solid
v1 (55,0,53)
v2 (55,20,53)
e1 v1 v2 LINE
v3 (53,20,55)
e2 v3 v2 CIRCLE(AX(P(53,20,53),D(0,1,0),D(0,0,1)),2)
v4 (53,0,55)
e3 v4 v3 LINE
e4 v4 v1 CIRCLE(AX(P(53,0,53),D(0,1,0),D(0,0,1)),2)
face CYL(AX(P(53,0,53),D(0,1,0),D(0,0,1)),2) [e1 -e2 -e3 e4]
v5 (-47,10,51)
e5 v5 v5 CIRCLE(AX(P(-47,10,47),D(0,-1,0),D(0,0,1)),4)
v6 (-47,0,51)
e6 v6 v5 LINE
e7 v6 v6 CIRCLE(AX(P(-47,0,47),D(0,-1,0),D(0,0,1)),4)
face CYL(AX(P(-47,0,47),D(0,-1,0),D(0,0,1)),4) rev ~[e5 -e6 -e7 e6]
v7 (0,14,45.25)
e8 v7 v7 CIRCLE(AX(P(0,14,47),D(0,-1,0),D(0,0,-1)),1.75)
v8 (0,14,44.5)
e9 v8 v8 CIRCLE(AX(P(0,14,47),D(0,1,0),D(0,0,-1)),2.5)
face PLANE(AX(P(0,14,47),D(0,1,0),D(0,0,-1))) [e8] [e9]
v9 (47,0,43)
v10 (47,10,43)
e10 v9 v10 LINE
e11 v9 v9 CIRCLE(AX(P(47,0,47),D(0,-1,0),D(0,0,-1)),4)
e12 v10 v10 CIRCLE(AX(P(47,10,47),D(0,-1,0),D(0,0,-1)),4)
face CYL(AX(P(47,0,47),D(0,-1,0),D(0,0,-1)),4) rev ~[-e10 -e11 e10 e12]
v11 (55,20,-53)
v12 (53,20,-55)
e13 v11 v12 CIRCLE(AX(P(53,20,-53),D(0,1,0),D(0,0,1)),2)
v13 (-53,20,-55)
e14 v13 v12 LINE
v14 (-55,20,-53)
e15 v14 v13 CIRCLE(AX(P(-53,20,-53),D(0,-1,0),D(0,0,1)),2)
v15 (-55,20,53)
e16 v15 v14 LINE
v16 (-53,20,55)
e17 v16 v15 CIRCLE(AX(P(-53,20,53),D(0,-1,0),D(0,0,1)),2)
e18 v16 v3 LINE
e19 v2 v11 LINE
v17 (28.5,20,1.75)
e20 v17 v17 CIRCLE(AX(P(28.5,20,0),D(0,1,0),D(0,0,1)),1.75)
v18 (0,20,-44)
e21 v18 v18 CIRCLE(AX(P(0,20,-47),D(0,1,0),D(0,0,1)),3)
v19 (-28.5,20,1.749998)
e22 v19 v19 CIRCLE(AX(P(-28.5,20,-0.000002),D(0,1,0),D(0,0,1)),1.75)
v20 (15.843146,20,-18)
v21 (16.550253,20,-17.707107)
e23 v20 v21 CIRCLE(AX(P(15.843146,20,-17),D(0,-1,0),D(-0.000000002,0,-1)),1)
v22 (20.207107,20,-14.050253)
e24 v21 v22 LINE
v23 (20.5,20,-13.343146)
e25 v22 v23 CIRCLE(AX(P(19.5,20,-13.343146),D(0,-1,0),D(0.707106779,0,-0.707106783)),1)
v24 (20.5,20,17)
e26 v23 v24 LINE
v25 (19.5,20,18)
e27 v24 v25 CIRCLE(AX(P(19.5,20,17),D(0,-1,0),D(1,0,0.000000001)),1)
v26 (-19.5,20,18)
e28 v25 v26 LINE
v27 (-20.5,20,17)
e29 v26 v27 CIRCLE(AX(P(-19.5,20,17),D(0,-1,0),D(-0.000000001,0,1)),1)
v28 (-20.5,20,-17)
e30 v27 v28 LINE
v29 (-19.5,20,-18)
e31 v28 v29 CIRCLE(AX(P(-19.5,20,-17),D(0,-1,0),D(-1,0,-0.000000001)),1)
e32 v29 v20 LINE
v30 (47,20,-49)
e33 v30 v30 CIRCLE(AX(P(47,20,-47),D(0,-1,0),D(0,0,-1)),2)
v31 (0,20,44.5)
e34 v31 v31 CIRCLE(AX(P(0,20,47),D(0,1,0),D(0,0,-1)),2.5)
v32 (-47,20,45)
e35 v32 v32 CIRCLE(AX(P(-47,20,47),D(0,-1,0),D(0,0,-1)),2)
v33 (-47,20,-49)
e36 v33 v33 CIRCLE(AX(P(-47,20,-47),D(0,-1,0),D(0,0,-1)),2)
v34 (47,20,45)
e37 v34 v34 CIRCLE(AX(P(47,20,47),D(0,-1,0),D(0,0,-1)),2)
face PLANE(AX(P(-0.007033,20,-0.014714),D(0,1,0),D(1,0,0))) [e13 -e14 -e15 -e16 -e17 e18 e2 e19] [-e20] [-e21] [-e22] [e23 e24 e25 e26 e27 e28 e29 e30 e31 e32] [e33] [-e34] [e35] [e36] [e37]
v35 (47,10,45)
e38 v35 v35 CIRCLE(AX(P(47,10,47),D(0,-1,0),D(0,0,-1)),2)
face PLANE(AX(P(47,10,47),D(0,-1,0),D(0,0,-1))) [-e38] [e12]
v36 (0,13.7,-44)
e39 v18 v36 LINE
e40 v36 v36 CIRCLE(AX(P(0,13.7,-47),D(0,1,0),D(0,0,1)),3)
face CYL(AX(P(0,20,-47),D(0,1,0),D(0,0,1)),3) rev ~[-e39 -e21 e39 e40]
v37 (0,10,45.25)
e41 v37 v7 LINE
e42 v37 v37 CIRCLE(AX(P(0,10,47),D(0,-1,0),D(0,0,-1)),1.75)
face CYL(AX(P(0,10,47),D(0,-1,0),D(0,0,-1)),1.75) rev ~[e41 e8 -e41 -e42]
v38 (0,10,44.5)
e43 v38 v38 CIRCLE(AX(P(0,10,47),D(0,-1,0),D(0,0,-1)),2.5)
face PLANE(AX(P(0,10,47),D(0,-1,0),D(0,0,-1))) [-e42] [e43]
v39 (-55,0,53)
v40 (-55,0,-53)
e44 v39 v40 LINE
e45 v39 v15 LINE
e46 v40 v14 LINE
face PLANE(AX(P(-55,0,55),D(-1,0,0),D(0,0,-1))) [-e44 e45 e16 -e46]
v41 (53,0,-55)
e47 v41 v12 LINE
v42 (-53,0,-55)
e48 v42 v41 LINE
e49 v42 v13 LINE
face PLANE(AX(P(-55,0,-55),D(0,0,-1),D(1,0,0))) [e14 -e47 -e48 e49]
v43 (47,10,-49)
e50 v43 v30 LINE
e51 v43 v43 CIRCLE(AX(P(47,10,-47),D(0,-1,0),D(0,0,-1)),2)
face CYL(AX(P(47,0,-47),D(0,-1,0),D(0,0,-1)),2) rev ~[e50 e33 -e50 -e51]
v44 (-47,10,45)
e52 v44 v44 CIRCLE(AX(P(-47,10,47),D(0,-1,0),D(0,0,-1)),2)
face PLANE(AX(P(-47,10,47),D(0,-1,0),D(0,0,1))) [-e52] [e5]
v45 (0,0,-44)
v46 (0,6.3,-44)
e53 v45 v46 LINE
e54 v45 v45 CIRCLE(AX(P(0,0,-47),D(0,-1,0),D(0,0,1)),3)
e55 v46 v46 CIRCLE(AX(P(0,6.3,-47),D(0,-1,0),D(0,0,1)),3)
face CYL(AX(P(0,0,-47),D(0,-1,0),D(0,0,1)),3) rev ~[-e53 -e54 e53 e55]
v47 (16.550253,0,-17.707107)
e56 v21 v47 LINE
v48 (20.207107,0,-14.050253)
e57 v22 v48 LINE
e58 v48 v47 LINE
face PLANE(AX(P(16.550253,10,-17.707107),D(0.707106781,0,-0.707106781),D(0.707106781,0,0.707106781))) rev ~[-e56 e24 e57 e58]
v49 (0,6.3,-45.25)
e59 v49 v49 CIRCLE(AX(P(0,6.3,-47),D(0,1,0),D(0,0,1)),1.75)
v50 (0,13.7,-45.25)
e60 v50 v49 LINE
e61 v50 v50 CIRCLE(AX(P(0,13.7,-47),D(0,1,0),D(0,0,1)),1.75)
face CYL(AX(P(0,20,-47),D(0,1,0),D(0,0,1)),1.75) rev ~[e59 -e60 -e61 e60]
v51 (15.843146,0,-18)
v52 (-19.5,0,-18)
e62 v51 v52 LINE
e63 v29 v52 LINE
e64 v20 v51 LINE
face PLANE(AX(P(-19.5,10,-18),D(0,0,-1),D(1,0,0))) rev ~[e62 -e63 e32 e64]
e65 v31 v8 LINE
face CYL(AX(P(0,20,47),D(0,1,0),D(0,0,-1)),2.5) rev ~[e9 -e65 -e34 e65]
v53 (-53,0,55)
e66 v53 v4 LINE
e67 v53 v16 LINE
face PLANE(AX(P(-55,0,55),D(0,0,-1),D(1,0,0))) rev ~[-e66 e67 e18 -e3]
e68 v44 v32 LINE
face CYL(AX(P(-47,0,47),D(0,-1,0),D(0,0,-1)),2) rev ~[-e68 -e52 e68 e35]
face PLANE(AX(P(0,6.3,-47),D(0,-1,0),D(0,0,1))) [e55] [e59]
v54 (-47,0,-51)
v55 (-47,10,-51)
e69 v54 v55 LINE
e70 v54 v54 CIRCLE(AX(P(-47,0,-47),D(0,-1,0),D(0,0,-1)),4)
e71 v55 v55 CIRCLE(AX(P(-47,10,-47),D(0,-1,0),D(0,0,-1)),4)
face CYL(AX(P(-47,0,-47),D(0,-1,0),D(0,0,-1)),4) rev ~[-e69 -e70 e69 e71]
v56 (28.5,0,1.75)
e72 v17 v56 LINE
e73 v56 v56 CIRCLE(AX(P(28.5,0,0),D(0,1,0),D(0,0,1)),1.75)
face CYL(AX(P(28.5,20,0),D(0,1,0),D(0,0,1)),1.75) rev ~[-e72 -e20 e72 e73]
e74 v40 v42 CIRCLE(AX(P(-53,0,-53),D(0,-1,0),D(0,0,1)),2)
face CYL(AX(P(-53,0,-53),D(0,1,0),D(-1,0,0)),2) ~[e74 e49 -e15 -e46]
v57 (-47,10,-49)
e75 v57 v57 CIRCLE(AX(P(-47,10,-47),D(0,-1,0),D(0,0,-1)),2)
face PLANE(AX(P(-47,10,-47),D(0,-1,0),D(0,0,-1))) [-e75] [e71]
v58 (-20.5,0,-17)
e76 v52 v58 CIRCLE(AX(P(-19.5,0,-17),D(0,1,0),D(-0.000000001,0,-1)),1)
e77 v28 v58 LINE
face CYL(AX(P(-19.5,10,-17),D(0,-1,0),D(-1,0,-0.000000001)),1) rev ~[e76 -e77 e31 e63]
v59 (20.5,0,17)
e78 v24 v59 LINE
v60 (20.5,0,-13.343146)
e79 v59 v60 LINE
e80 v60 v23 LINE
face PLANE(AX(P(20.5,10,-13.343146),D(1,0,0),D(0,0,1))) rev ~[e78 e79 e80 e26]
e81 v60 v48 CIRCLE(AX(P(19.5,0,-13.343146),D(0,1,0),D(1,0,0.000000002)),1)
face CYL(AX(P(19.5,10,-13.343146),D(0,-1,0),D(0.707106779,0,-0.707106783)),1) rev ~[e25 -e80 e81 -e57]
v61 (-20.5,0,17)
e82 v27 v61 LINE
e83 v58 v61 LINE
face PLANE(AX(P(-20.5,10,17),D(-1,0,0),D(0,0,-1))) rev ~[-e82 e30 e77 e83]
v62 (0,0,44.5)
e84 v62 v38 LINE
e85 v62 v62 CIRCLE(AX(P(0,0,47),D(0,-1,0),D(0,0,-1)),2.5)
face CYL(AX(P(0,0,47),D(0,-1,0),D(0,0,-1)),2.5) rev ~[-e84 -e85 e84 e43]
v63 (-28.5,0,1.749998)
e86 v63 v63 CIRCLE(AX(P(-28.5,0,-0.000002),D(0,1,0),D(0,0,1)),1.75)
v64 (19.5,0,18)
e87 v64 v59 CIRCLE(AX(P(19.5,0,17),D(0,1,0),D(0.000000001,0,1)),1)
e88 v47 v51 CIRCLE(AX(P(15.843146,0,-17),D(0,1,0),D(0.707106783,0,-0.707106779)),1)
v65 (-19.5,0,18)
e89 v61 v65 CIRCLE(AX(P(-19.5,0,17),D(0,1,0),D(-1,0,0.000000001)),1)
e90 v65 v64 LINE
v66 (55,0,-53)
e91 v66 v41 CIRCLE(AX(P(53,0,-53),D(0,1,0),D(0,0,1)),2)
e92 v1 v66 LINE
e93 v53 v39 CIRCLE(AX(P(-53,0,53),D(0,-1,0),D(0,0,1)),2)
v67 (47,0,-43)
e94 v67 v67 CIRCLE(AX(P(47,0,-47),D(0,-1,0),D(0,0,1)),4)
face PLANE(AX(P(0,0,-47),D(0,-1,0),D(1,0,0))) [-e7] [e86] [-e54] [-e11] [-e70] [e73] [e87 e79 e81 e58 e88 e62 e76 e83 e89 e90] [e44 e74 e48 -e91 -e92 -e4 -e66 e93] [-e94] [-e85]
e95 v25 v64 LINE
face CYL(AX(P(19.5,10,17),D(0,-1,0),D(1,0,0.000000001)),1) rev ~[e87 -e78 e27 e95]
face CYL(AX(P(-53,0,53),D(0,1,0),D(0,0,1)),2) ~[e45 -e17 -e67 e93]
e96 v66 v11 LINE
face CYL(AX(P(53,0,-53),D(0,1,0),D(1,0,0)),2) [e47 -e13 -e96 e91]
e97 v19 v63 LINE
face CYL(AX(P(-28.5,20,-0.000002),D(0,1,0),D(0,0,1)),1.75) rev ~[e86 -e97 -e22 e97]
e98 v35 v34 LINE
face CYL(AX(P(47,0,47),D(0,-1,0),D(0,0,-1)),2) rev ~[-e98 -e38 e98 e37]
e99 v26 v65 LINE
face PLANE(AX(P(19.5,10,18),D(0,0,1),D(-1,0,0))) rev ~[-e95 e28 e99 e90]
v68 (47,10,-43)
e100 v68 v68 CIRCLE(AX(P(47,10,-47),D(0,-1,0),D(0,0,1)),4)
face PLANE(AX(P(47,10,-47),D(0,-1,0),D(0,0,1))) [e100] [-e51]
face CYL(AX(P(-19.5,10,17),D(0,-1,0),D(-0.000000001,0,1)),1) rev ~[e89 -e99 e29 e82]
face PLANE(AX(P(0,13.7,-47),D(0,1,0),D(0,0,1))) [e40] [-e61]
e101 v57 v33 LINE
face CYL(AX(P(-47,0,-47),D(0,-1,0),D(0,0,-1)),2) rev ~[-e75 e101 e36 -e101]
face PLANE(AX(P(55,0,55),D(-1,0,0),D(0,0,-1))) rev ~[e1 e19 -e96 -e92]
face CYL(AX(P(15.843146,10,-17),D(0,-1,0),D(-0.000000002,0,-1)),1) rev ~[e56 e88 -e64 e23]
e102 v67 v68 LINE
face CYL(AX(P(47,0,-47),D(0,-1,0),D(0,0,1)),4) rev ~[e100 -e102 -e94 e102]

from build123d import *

# Parameters (mm, degrees)
CROQUIS1_W              = 110
CROQUIS1_H              = 110
SALIENTE_EXTRUIR1_DEPTH = 20
REDONDEO1_R             = 2
REDONDEO2_R             = 2
CROQUIS2_R              = 2
CORTAR_EXTRUIR1_DEPTH   = 20
CROQUIS3_R              = 4
CORTAR_EXTRUIR2_DEPTH   = 10
CROQUIS4_R              = 2.5
CROQUIS4_R_2            = 3
CORTAR_EXTRUIR3_DEPTH   = 10
CROQUIS5_R              = 1.75
CORTAR_EXTRUIR4_DEPTH   = 10
CORTAR_EXTRUIR5_DEPTH   = 23
CROQUIS10_R             = 1.75
CORTAR_EXTRUIR6_DEPTH   = 23
CORTAR_EXTRUIR7_DEPTH   = 23
CROQUIS12_R             = 2.5
CROQUIS12_R_2           = 3
CORTAR_EXTRUIR8_DEPTH   = 6
SALIENTE_EXTRUIR2_REACH = 82.312
CROQUIS13_R             = 3.5
CROQUIS14_R             = 1.75
CORTAR_EXTRUIR9_DEPTH   = 20
CROQUIS15_R             = 3
CORTAR_EXTRUIR10_DEPTH  = 6.3
CROQUIS23_R             = 4.917029705
SALIENTE_EXTRUIR4_DEPTH = 20
CROQUIS24_R             = 1.75
CORTAR_EXTRUIR12_DEPTH  = 20
CROQUIS25_R             = 3
CORTAR_EXTRUIR13_DEPTH  = 6.3
CROQUIS26_R             = 3
CORTAR_EXTRUIR14_DEPTH  = 6.3
CORTAR_EXTRUIR15_DEPTH  = 10
CROQUIS28_R             = 1.75
CORTAR_EXTRUIR16_DEPTH  = 20
CROQUIS29_W             = 24.147685667
CROQUIS29_H             = 8.546652792
SALIENTE_EXTRUIR5_DEPTH = 20


with BuildPart() as part:
    # Croquis1 → Saliente-Extruir1 (new body)
    with BuildSketch(Plane(origin=(0, 0, 0), x_dir=(1, 0, 0), z_dir=(0, 1, 0))):
        Rectangle(CROQUIS1_W, CROQUIS1_H)
    extrude(amount=SALIENTE_EXTRUIR1_DEPTH)

    # Redondeo1
    redondeo1_edges = [part.edges().sort_by_distance(p)[0] for p in [
        (55, 10, 55),
    ]]
    fillet(redondeo1_edges, radius=REDONDEO1_R)

    # Redondeo2
    redondeo2_edges = [part.edges().sort_by_distance(p)[0] for p in [
        (-55, 10, 55),
        (-55, 10, -55),
        (55, 10, -55),
    ]]
    fillet(redondeo2_edges, radius=REDONDEO2_R)

    # Croquis2 → Cortar-Extruir1 (cut)
    with BuildSketch(Plane.XZ):
        with Locations(Location((-47, 47, 0), (0, 0, 270))):
            Circle(CROQUIS2_R)
        with Locations(Location((47, 47, 0), (0, 0, 270))):
            Circle(CROQUIS2_R)
        with Locations(Location((47, -47, 0), (0, 0, 270))):
            Circle(CROQUIS2_R)
        with Locations(Location((-47, -47, 0), (0, 0, 270))):
            Circle(CROQUIS2_R)
    extrude(amount=-CORTAR_EXTRUIR1_DEPTH, mode=Mode.SUBTRACT)

    # Croquis3 → Cortar-Extruir2 (cut)
    with BuildSketch(Plane.XZ):
        with Locations(Location((47, 47, 0), (0, 0, 270))):
            Circle(CROQUIS3_R)
        with Locations(Location((-47, 47, 0), (0, 0, 90))):
            Circle(CROQUIS3_R)
        with Locations(Location((-47, -47, 0), (0, 0, 270))):
            Circle(CROQUIS3_R)
        with Locations(Location((47, -47, 0), (0, 0, 90))):
            Circle(CROQUIS3_R)
    extrude(amount=-CORTAR_EXTRUIR2_DEPTH, mode=Mode.SUBTRACT)

    # Croquis4 → Cortar-Extruir3 (cut)
    with BuildSketch(Plane.XZ):
        with Locations(Location((0, 47, 0), (0, 0, 270))):
            Circle(CROQUIS4_R)
        with Locations(Location((1.818078454, -47, 0), (0, 0, 270))):
            Circle(CROQUIS4_R_2)
    extrude(amount=-CORTAR_EXTRUIR3_DEPTH, mode=Mode.SUBTRACT)

    # Croquis5 → Cortar-Extruir4 (cut)
    with BuildSketch(Plane.XZ.offset(-10)):
        with Locations((0, 47)):
            Circle(CROQUIS5_R)
        with Locations((1.818078454, -47)):
            Circle(CROQUIS5_R)
        with BuildLine():
            Line((20.207106781, -14.050252532), (16.550252532, -17.707106781))
            ThreePointArc((16.550252532, -17.707106781), (16.225829183, -17.923879533), (15.843145751, -18))
            Line((15.843145751, -18), (-19.5, -18))
            ThreePointArc((-19.5, -18), (-20.207106781, -17.707106781), (-20.5, -17))
            Line((-20.5, -17), (-20.5, 17))
            ThreePointArc((-20.5, 17), (-20.207106781, 17.707106781), (-19.5, 18))
            Line((-19.5, 18), (19.5, 18))
            ThreePointArc((19.5, 18), (20.207106781, 17.707106781), (20.5, 17))
            Line((20.5, 17), (20.5, -13.343145751))
            ThreePointArc((20.5, -13.343145751), (20.423879533, -13.725829183), (20.207106781, -14.050252532))
        make_face()
    extrude(amount=CORTAR_EXTRUIR4_DEPTH, mode=Mode.SUBTRACT)

    # Croquis8 → Cortar-Extruir5 (cut)
    # profile 1 of 6: a face of its own
    with BuildSketch(Plane(origin=(0, 20, 0), x_dir=(1, 0, 0), z_dir=(0, 1, 0))):
        Polygon((-5.179479891, -37.773450824), (-3.474351686, -37.773450824), (-3.474351686, -38.132425183), (-4.865377327, -38.132425183), (-4.865377327, -39.20934826), (-3.474351686, -39.20934826), (-3.474351686, -39.568322619), (-4.865377327, -39.568322619), (-4.865377327, -41.273450824), (-5.179479891, -41.273450824), align=None)
    # profile 2 of 6: a face of its own
    with BuildSketch(Plane(origin=(0, 20, 0), x_dir=(1, 0, 0), z_dir=(0, 1, 0))):
        with BuildLine():
            Line((-3.025633737, -38.715758517), (-2.711531173, -38.715758517))
            Line((-2.711531173, -38.715758517), (-2.711531173, -39.09226092))
            add(Edge.make_bspline(
                [(-2.711531173, -39.09226092), (-2.688342414, -39.057205092), (-2.643994093, -38.990161093), (-2.570281164, -38.901491792), (-2.494777833, -38.828076745), (-2.417122645, -38.769573226), (-2.336744545, -38.725760108), (-2.255407594, -38.693667073), (-2.171832124, -38.674689757), (-2.1156702, -38.672156098), (-2.087532776, -38.670886722)],
                knots=[0, 0, 0, 0, 1.2804753, 2.448899062, 3.506932113, 4.484331642, 5.4025378, 6.288909075, 7.142734305, 8, 8, 8, 8], degree=3))
            add(Edge.make_bspline(
                [(-2.087532776, -38.670886722), (-2.065706449, -38.672077248), (-2.020797364, -38.674526834), (-1.952814774, -38.691737659), (-1.882771322, -38.719215681), (-1.837628935, -38.745055904), (-1.814095276, -38.758526946)],
                knots=[0, 0, 0, 0, 0.901110191, 1.854092781, 2.881294221, 4, 4, 4, 4], degree=3))
            Line((-1.814095276, -38.758526946), (-1.986571237, -39.030562203))
            add(Edge.make_bspline(
                [(-1.986571237, -39.030562203), (-2.001680258, -39.023821936), (-2.030360073, -39.011027621), (-2.072314639, -38.995885611), (-2.110995976, -38.986969695), (-2.135639534, -38.985618978), (-2.147128128, -38.984989286)],
                knots=[0, 0, 0, 0, 1.180555205, 2.24091978, 3.179933427, 4, 4, 4, 4], degree=3))
            add(Edge.make_bspline(
                [(-2.147128128, -38.984989286), (-2.172333862, -38.986669323), (-2.223746252, -38.990096112), (-2.299230751, -39.01703492), (-2.372477957, -39.06056016), (-2.430649619, -39.108831272), (-2.475691872, -39.15537907), (-2.507832097, -39.196027472), (-2.537314844, -39.241606104), (-2.565485065, -39.291335788), (-2.591151359, -39.346065634), (-2.615106028, -39.405248847), (-2.636764891, -39.468953976), (-2.649115135, -39.513336496), (-2.655441429, -39.536071017)],
                knots=[0, 0, 0, 0, 1.125678352, 2.296057538, 3.5422874, 4.923748041, 5.663163013, 6.437101912, 7.23742474, 8.08941207, 8.991984279, 9.93940061, 10.944477711, 12, 12, 12, 12], degree=3))
            add(Edge.make_bspline(
                [(-2.655441429, -39.536071017), (-2.660173823, -39.55634819), (-2.670655714, -39.601260589), (-2.680847252, -39.676609114), (-2.69091677, -39.765632772), (-2.698013389, -39.868579365), (-2.704591431, -39.985191809), (-2.708301513, -40.115647755), (-2.711404654, -40.260081106), (-2.71148772, -40.361055459), (-2.711531173, -40.413875504)],
                knots=[0, 0, 0, 0, 0.566838948, 1.255505196, 2.06880316, 3.007127437, 4.065329342, 5.249902469, 6.561414163, 8, 8, 8, 8], degree=3))
            Line((-2.711531173, -40.413875504), (-2.711531173, -41.273450824))
            Line((-2.711531173, -41.273450824), (-3.025633737, -41.273450824))
            Line((-3.025633737, -41.273450824), (-3.025633737, -38.715758517))
        make_face()
    # profile 3 of 6: a face of its own
    with BuildSketch(Plane(origin=(0, 20, 0), x_dir=(1, 0, 0), z_dir=(0, 1, 0))):
        with BuildLine():
            Line((0.599165942, -40.465758517), (0.878212417, -40.612292972))
            add(Edge.make_bspline(
                [(0.878212417, -40.612292972), (0.855975821, -40.651736303), (0.812712213, -40.728477406), (0.738311465, -40.833909266), (0.660319393, -40.928756982), (0.575215425, -41.010486636), (0.485545746, -41.081738021), (0.390813091, -41.144075846), (0.290524273, -41.197194366), (0.184674548, -41.241946894), (0.072374997, -41.276356388), (-0.046646519, -41.300660609), (-0.172618015, -41.315683878), (-0.258964195, -41.317429019), (-0.303177808, -41.318322619)],
                knots=[0, 0, 0, 0, 1.120438281, 2.179929193, 3.190490725, 4.156257408, 5.095198341, 6.022838206, 6.959905092, 7.901321166, 8.864066838, 9.862729781, 10.905609505, 12, 12, 12, 12], degree=3))
            add(Edge.make_bspline(
                [(-0.303177808, -41.318322619), (-0.352319785, -41.317175444), (-0.448181547, -41.314937637), (-0.587721294, -41.295645173), (-0.719100712, -41.264172814), (-0.842312416, -41.220207273), (-0.957054668, -41.162779948), (-1.063555523, -41.092820467), (-1.162375049, -41.010688212), (-1.250399258, -40.915671768), (-1.329643141, -40.813989811), (-1.399568961, -40.708033927), (-1.458026392, -40.598070702), (-1.505579002, -40.484800178), (-1.543983867, -40.368936285), (-1.570750571, -40.249424817), (-1.586180319, -40.126589233), (-1.588544764, -40.043491897), (-1.589736301, -40.001615888)],
                knots=[0, 0, 0, 0, 1.145258523, 2.234067595, 3.276747158, 4.290159414, 5.277019952, 6.260822364, 7.254936242, 8.264827045, 9.274100331, 10.257902744, 11.220704747, 12.172965371, 13.118907548, 14.062713208, 15.023725156, 16, 16, 16, 16], degree=3))
            add(Edge.make_bspline(
                [(-1.589736301, -40.001615888), (-1.58867716, -39.962321058), (-1.586578082, -39.884443893), (-1.573347294, -39.769178349), (-1.549899001, -39.657149896), (-1.517722677, -39.548265448), (-1.476171431, -39.442707314), (-1.425339212, -39.340411251), (-1.365146834, -39.241486111), (-1.31867416, -39.179082977), (-1.295265147, -39.147649542)],
                knots=[0, 0, 0, 0, 1.024358464, 2.0301432, 3.019427413, 4.004406732, 4.986367066, 5.972626655, 6.978780325, 8, 8, 8, 8], degree=3))
            add(Edge.make_bspline(
                [(-1.295265147, -39.147649542), (-1.263557465, -39.109780672), (-1.201146518, -39.035242522), (-1.095590163, -38.937304196), (-0.981289966, -38.855260421), (-0.85967834, -38.787253285), (-0.729341866, -38.735579638), (-0.592032575, -38.697072055), (-0.446186989, -38.675494044), (-0.346481768, -38.672446211), (-0.295465468, -38.670886722)],
                knots=[0, 0, 0, 0, 1.030682036, 2.02871468, 2.997146059, 3.962720338, 4.930598197, 5.918074684, 6.934738563, 8, 8, 8, 8], degree=3))
            add(Edge.make_bspline(
                [(-0.295465468, -38.670886722), (-0.243017863, -38.672240771), (-0.140127617, -38.674897106), (0.009904504, -38.699523439), (0.151865221, -38.738575994), (0.285697725, -38.793729784), (0.411415586, -38.864889336), (0.528201636, -38.953031178), (0.638053148, -39.055449265), (0.701961727, -39.134212474), (0.734482449, -39.17429217)],
                knots=[0, 0, 0, 0, 1.056321875, 2.072262726, 3.055038591, 4.01806755, 4.982017516, 5.957941055, 6.960871419, 8, 8, 8, 8], degree=3))
            add(Edge.make_bspline(
                [(0.734482449, -39.17429217), (0.756609387, -39.204495752), (0.80071598, -39.264701871), (0.85596308, -39.362873028), (0.903920475, -39.465583622), (0.942253436, -39.574493919), (0.973292937, -39.688313499), (0.995749756, -39.807856044), (1.008919375, -39.933085955), (1.011508072, -40.018412511), (1.012827801, -40.061912363)],
                knots=[0, 0, 0, 0, 0.94817472, 1.890038105, 2.849395472, 3.817997239, 4.812318967, 5.836947057, 6.897266129, 8, 8, 8, 8], degree=3))
            Line((1.012827801, -40.061912363), (-1.275633737, -40.061912363))
            add(Edge.make_bspline(
                [(-1.275633737, -40.061912363), (-1.274094131, -40.095612827), (-1.271066557, -40.161883431), (-1.256951414, -40.258854214), (-1.23470264, -40.351227556), (-1.203433577, -40.438310598), (-1.165566732, -40.521240726), (-1.119181015, -40.599402762), (-1.063841461, -40.672440693), (-1.002115762, -40.74100783), (-0.933408666, -40.802068591), (-0.861125919, -40.856720368), (-0.784232354, -40.902525964), (-0.703334271, -40.939705854), (-0.618562486, -40.96881217), (-0.52989029, -40.988679991), (-0.437492174, -41.001987098), (-0.37450644, -41.003466763), (-0.342440628, -41.004220055)],
                knots=[0, 0, 0, 0, 1.094153842, 2.151609401, 3.174256925, 4.172055639, 5.149267565, 6.128595816, 7.11444997, 8.118368179, 9.117203808, 10.09244225, 11.054858984, 12.015122123, 12.976791628, 13.957293641, 14.960065497, 16, 16, 16, 16], degree=3))
            add(Edge.make_bspline(
                [(-0.342440628, -41.004220055), (-0.311089481, -41.003611998), (-0.24888279, -41.002405497), (-0.156241932, -40.990673586), (-0.065102405, -40.971703311), (0.024158578, -40.945813321), (0.109729424, -40.914236469), (0.188974974, -40.876133611), (0.26185519, -40.833983864), (0.329972157, -40.785774189), (0.39604315, -40.726766002), (0.461585636, -40.653130281), (0.53186229, -40.566042753), (0.575851882, -40.500497087), (0.599165942, -40.465758517)],
                knots=[0, 0, 0, 0, 0.99110716, 1.966546729, 2.947904876, 3.932708344, 4.903319531, 5.828989031, 6.710028674, 7.56322171, 8.463672341, 9.504779593, 10.677557249, 12, 12, 12, 12], degree=3))
        make_face()
        with BuildLine():
            add(Edge.make_bspline(
                [(0.698725237, -39.747809799), (0.687228613, -39.706146925), (0.665101311, -39.625959304), (0.618864947, -39.514918414), (0.566793406, -39.416230513), (0.505171675, -39.33065088), (0.435352949, -39.254647367), (0.354707766, -39.188228782), (0.264271873, -39.128811331), (0.164512732, -39.078658831), (0.058870947, -39.035968972), (-0.051735245, -39.007343857), (-0.164593033, -38.987734314), (-0.240927319, -38.985908206), (-0.279339667, -38.984989286)],
                knots=[0, 0, 0, 0, 1.154881502, 2.222775134, 3.210006277, 4.132804581, 5.035138423, 5.962687519, 6.919655026, 7.923214229, 8.944639381, 9.960483929, 10.97369054, 12, 12, 12, 12], degree=3))
            add(Edge.make_bspline(
                [(-0.279339667, -38.984989286), (-0.310689105, -38.985600957), (-0.372660354, -38.986810103), (-0.463961422, -38.998280233), (-0.551641121, -39.017240078), (-0.636346409, -39.043205034), (-0.716967277, -39.077813637), (-0.795162045, -39.118396863), (-0.868942442, -39.167938447), (-0.915083737, -39.205697302), (-0.938394154, -39.22477294)],
                knots=[0, 0, 0, 0, 1.04873581, 2.073130211, 3.073294108, 4.04793562, 5.032784715, 6.005352987, 6.992311501, 8, 8, 8, 8], degree=3))
            add(Edge.make_bspline(
                [(-0.938394154, -39.22477294), (-0.955087436, -39.239867255), (-0.98887057, -39.270414471), (-1.034011091, -39.323043678), (-1.077231564, -39.37979524), (-1.116565217, -39.442840365), (-1.152642803, -39.511461144), (-1.186402781, -39.585078779), (-1.216789193, -39.664251909), (-1.233885303, -39.719424348), (-1.242681013, -39.747809799)],
                knots=[0, 0, 0, 0, 0.879870761, 1.780643979, 2.707998968, 3.669668524, 4.684282772, 5.740141944, 6.837334558, 8, 8, 8, 8], degree=3))
            Line((-1.242681013, -39.747809799), (0.698725237, -39.747809799))
        make_face(mode=Mode.SUBTRACT)
    # profile 4 of 6: a face of its own
    with BuildSketch(Plane(origin=(0, 20, 0), x_dir=(1, 0, 0), z_dir=(0, 1, 0))):
        with BuildLine():
            Line((1.64103293, -38.715758517), (1.955135494, -38.715758517))
            Line((1.955135494, -38.715758517), (1.955135494, -39.177096658))
            add(Edge.make_bspline(
                [(1.955135494, -39.177096658), (1.988673129, -39.135253935), (2.05375408, -39.054056671), (2.162138413, -38.947336097), (2.276682313, -38.859390872), (2.396684317, -38.789287078), (2.522307327, -38.736440452), (2.652785597, -38.698274521), (2.788900303, -38.675389692), (2.88146474, -38.672399462), (2.928292545, -38.670886722)],
                knots=[0, 0, 0, 0, 1.12780773, 2.188550248, 3.19190651, 4.159438251, 5.104880172, 6.052711206, 7.014878035, 8, 8, 8, 8], degree=3))
            add(Edge.make_bspline(
                [(2.928292545, -38.670886722), (2.975623179, -38.672631917), (3.068260647, -38.676047686), (3.203138708, -38.703064377), (3.329112102, -38.749209632), (3.445731658, -38.812421702), (3.550858871, -38.891028176), (3.643183723, -38.982605957), (3.71954697, -39.087942041), (3.770744333, -39.185665197), (3.804469981, -39.272353991), (3.825702318, -39.346600741), (3.8437333, -39.429318892), (3.859365048, -39.520258482), (3.869942159, -39.620056672), (3.878284451, -39.728304364), (3.884263145, -39.844966494), (3.884500352, -39.925653122), (3.884622673, -39.96726092)],
                knots=[0, 0, 0, 0, 1.235846778, 2.418850247, 3.575807741, 4.728682307, 5.871620074, 6.994088408, 8.11269785, 9.256955736, 9.865816715, 10.540099792, 11.271859618, 12.076849838, 12.949306005, 13.892391288, 14.913166135, 16, 16, 16, 16], degree=3))
            Line((3.884622673, -39.96726092), (3.884622673, -41.273450824))
            Line((3.884622673, -41.273450824), (3.570520109, -41.273450824))
            Line((3.570520109, -41.273450824), (3.570520109, -40.070325824))
            add(Edge.make_bspline(
                [(3.570520109, -40.070325824), (3.570326901, -40.035503379), (3.569957327, -39.968893969), (3.56879168, -39.873524945), (3.565981874, -39.787038367), (3.562033561, -39.709641), (3.55625453, -39.641407163), (3.550231899, -39.582197886), (3.542866922, -39.532088344), (3.536304009, -39.501923262), (3.533360654, -39.488394735)],
                knots=[0, 0, 0, 0, 1.430800155, 2.736877192, 3.918605307, 4.986035426, 5.920637409, 6.731861385, 7.431261377, 8, 8, 8, 8], degree=3))
            add(Edge.make_bspline(
                [(3.533360654, -39.488394735), (3.522735122, -39.44868355), (3.502284262, -39.372251805), (3.451750279, -39.268577452), (3.387936098, -39.180379265), (3.310038248, -39.108202543), (3.218809173, -39.052031706), (3.11450203, -39.013057752), (2.998123389, -38.988681482), (2.916269007, -38.98625435), (2.873605045, -38.984989286)],
                knots=[0, 0, 0, 0, 1.084156227, 2.086665306, 3.027808233, 3.945421172, 4.874247719, 5.839848303, 6.874090471, 8, 8, 8, 8], degree=3))
            add(Edge.make_bspline(
                [(2.873605045, -38.984989286), (2.848337361, -38.985465291), (2.798333268, -38.986407291), (2.724183296, -38.995858589), (2.652259123, -39.011317045), (2.581838914, -39.032185683), (2.514331121, -39.060847952), (2.447566829, -39.093377322), (2.384060065, -39.133925534), (2.322456668, -39.179116155), (2.26514386, -39.229195363), (2.211815522, -39.282039873), (2.164277502, -39.338315477), (2.121208826, -39.397115424), (2.084030563, -39.459247262), (2.051577475, -39.524111569), (2.02404178, -39.591793717), (2.010359088, -39.638768779), (2.003512897, -39.66227294)],
                knots=[0, 0, 0, 0, 1.023777757, 2.026029729, 3.023749952, 4.003683103, 4.997618607, 5.993177895, 7.010360494, 8.046726602, 9.087585522, 10.09234134, 11.086953743, 12.070360549, 13.043493632, 14.017870808, 15.008233677, 16, 16, 16, 16], degree=3))
            add(Edge.make_bspline(
                [(2.003512897, -39.66227294), (1.999573249, -39.679528143), (1.99099684, -39.717091817), (1.98173366, -39.778736237), (1.973326085, -39.850046212), (1.966289126, -39.930938529), (1.96198371, -40.021696404), (1.957289313, -40.121932242), (1.955580252, -40.23204573), (1.955287898, -40.308707423), (1.955135494, -40.348671177)],
                knots=[0, 0, 0, 0, 0.615963638, 1.340920617, 2.168419149, 3.115676021, 4.16674242, 5.331190069, 6.6087489, 8, 8, 8, 8], degree=3))
            Line((1.955135494, -40.348671177), (1.955135494, -41.273450824))
            Line((1.955135494, -41.273450824), (1.64103293, -41.273450824))
            Line((1.64103293, -41.273450824), (1.64103293, -38.715758517))
        make_face()
    # profile 5 of 6: a face of its own
    with BuildSketch(Plane(origin=(0, 20, 0), x_dir=(1, 0, 0), z_dir=(0, 1, 0))):
        Polygon((4.916673955, -37.683707235), (5.230776519, -37.683707235), (5.230776519, -38.715758517), (5.679494468, -38.715758517), (5.679494468, -39.029861081), (5.230776519, -39.029861081), (5.230776519, -41.273450824), (4.916673955, -41.273450824), (4.916673955, -39.029861081), (4.467956006, -39.029861081), (4.467956006, -38.715758517), (4.916673955, -38.715758517), align=None)
    # profile 6 of 6: a face of its own
    with BuildSketch(Plane(origin=(0, 20, 0), x_dir=(1, 0, 0), z_dir=(0, 1, 0))):
        with BuildLine():
            Line((8.31711466, -40.465758517), (8.596161135, -40.612292972))
            add(Edge.make_bspline(
                [(8.596161135, -40.612292972), (8.573924539, -40.651736303), (8.530660931, -40.728477406), (8.456260183, -40.833909266), (8.37826811, -40.928756982), (8.293164142, -41.010486636), (8.203494464, -41.081738021), (8.108761809, -41.144075846), (8.008472991, -41.197194366), (7.902623266, -41.241946894), (7.790323715, -41.276356388), (7.671302199, -41.300660609), (7.545330703, -41.315683878), (7.458984523, -41.317429019), (7.41477091, -41.318322619)],
                knots=[0, 0, 0, 0, 1.120438281, 2.179929193, 3.190490725, 4.156257408, 5.095198341, 6.022838206, 6.959905092, 7.901321166, 8.864066838, 9.862729781, 10.905609505, 12, 12, 12, 12], degree=3))
            add(Edge.make_bspline(
                [(7.41477091, -41.318322619), (7.365628933, -41.317175444), (7.269767171, -41.314937637), (7.130227424, -41.295645173), (6.998848006, -41.264172814), (6.875636302, -41.220207273), (6.76089405, -41.162779948), (6.654393195, -41.092820467), (6.555573669, -41.010688212), (6.46754946, -40.915671768), (6.388305577, -40.813989811), (6.318379757, -40.708033927), (6.259922326, -40.598070702), (6.212369716, -40.484800178), (6.173964851, -40.368936285), (6.147198147, -40.249424817), (6.131768399, -40.126589233), (6.129403954, -40.043491897), (6.128212417, -40.001615888)],
                knots=[0, 0, 0, 0, 1.145258523, 2.234067595, 3.276747158, 4.290159414, 5.277019952, 6.260822364, 7.254936242, 8.264827045, 9.274100331, 10.257902744, 11.220704747, 12.172965371, 13.118907548, 14.062713208, 15.023725156, 16, 16, 16, 16], degree=3))
            add(Edge.make_bspline(
                [(6.128212417, -40.001615888), (6.129271558, -39.962321058), (6.131370636, -39.884443893), (6.144601424, -39.769178349), (6.168049717, -39.657149896), (6.200226041, -39.548265448), (6.241777287, -39.442707314), (6.292609506, -39.340411251), (6.352801884, -39.241486111), (6.399274558, -39.179082977), (6.422683571, -39.147649542)],
                knots=[0, 0, 0, 0, 1.024358464, 2.0301432, 3.019427413, 4.004406732, 4.986367066, 5.972626655, 6.978780325, 8, 8, 8, 8], degree=3))
            add(Edge.make_bspline(
                [(6.422683571, -39.147649542), (6.454391253, -39.109780672), (6.5168022, -39.035242522), (6.622358555, -38.937304196), (6.736658752, -38.855260421), (6.858270378, -38.787253285), (6.988606852, -38.735579638), (7.125916143, -38.697072055), (7.271761729, -38.675494044), (7.37146695, -38.672446211), (7.42248325, -38.670886722)],
                knots=[0, 0, 0, 0, 1.030682036, 2.02871468, 2.997146059, 3.962720338, 4.930598197, 5.918074684, 6.934738563, 8, 8, 8, 8], degree=3))
            add(Edge.make_bspline(
                [(7.42248325, -38.670886722), (7.474930855, -38.672240771), (7.577821101, -38.674897106), (7.727853222, -38.699523439), (7.869813939, -38.738575994), (8.003646443, -38.793729784), (8.129364304, -38.864889336), (8.246150354, -38.953031178), (8.356001866, -39.055449265), (8.419910445, -39.134212474), (8.452431167, -39.17429217)],
                knots=[0, 0, 0, 0, 1.056321875, 2.072262726, 3.055038591, 4.01806755, 4.982017516, 5.957941055, 6.960871419, 8, 8, 8, 8], degree=3))
            add(Edge.make_bspline(
                [(8.452431167, -39.17429217), (8.474558105, -39.204495752), (8.518664698, -39.264701871), (8.573911798, -39.362873028), (8.621869193, -39.465583622), (8.660202154, -39.574493919), (8.691241655, -39.688313499), (8.713698474, -39.807856044), (8.726868093, -39.933085955), (8.72945679, -40.018412511), (8.730776519, -40.061912363)],
                knots=[0, 0, 0, 0, 0.94817472, 1.890038105, 2.849395472, 3.817997239, 4.812318967, 5.836947057, 6.897266129, 8, 8, 8, 8], degree=3))
            Line((8.730776519, -40.061912363), (6.442314981, -40.061912363))
            add(Edge.make_bspline(
                [(6.442314981, -40.061912363), (6.443854587, -40.095612827), (6.446882161, -40.161883431), (6.460997304, -40.258854214), (6.483246078, -40.351227556), (6.514515141, -40.438310598), (6.552381986, -40.521240726), (6.598767703, -40.599402762), (6.654107257, -40.672440693), (6.715832956, -40.74100783), (6.784540052, -40.802068591), (6.856822799, -40.856720368), (6.933716364, -40.902525964), (7.014614447, -40.939705854), (7.099386232, -40.96881217), (7.188058427, -40.988679991), (7.280456544, -41.001987098), (7.343442278, -41.003466763), (7.37550809, -41.004220055)],
                knots=[0, 0, 0, 0, 1.094153842, 2.151609401, 3.174256925, 4.172055639, 5.149267565, 6.128595816, 7.11444997, 8.118368179, 9.117203808, 10.09244225, 11.054858984, 12.015122123, 12.976791628, 13.957293641, 14.960065497, 16, 16, 16, 16], degree=3))
            add(Edge.make_bspline(
                [(7.37550809, -41.004220055), (7.406859237, -41.003611998), (7.469065928, -41.002405497), (7.561706786, -40.990673586), (7.652846313, -40.971703311), (7.742107296, -40.945813321), (7.827678142, -40.914236469), (7.906923692, -40.876133611), (7.979803908, -40.833983864), (8.047920875, -40.785774189), (8.113991868, -40.726766002), (8.179534354, -40.653130281), (8.249811008, -40.566042753), (8.2938006, -40.500497087), (8.31711466, -40.465758517)],
                knots=[0, 0, 0, 0, 0.99110716, 1.966546729, 2.947904876, 3.932708344, 4.903319531, 5.828989031, 6.710028674, 7.56322171, 8.463672341, 9.504779593, 10.677557249, 12, 12, 12, 12], degree=3))
        make_face()
        with BuildLine():
            add(Edge.make_bspline(
                [(8.416673955, -39.747809799), (8.405177331, -39.706146925), (8.383050029, -39.625959304), (8.336813665, -39.514918414), (8.284742124, -39.416230513), (8.223120393, -39.33065088), (8.153301667, -39.254647367), (8.072656484, -39.188228782), (7.982220591, -39.128811331), (7.88246145, -39.078658831), (7.776819665, -39.035968972), (7.666213473, -39.007343857), (7.553355685, -38.987734314), (7.477021399, -38.985908206), (7.438609051, -38.984989286)],
                knots=[0, 0, 0, 0, 1.154881502, 2.222775134, 3.210006277, 4.132804581, 5.035138423, 5.962687519, 6.919655026, 7.923214229, 8.944639381, 9.960483929, 10.97369054, 12, 12, 12, 12], degree=3))
            add(Edge.make_bspline(
                [(7.438609051, -38.984989286), (7.407259613, -38.985600957), (7.345288364, -38.986810103), (7.253987296, -38.998280233), (7.166307597, -39.017240078), (7.081602309, -39.043205034), (7.000981441, -39.077813637), (6.922786672, -39.118396863), (6.849006276, -39.167938447), (6.802864981, -39.205697302), (6.779554564, -39.22477294)],
                knots=[0, 0, 0, 0, 1.04873581, 2.073130211, 3.073294108, 4.04793562, 5.032784715, 6.005352987, 6.992311501, 8, 8, 8, 8], degree=3))
            add(Edge.make_bspline(
                [(6.779554564, -39.22477294), (6.762861282, -39.239867255), (6.729078148, -39.270414471), (6.683937626, -39.323043678), (6.640717154, -39.37979524), (6.601383501, -39.442840365), (6.565305915, -39.511461144), (6.531545937, -39.585078779), (6.501159525, -39.664251909), (6.484063415, -39.719424348), (6.475267705, -39.747809799)],
                knots=[0, 0, 0, 0, 0.879870761, 1.780643979, 2.707998968, 3.669668524, 4.684282772, 5.740141944, 6.837334558, 8, 8, 8, 8], degree=3))
            Line((6.475267705, -39.747809799), (8.416673955, -39.747809799))
        make_face(mode=Mode.SUBTRACT)
    extrude(amount=-CORTAR_EXTRUIR5_DEPTH, mode=Mode.SUBTRACT)


with BuildPart() as cortar_extruir5_piece_1:
    # of the separate pieces the step leaves, piece 1, a body of its own (cortar_extruir5_pieces)
    add(part.part.solids().sort_by_distance((55, 0, -53))[0])

    # Croquis10 → Cortar-Extruir6 (cut)
    with BuildSketch(Plane.XZ.offset(-10)):
        with Locations(Location((0, 47, 0), (0, 0, 270))):
            Circle(CROQUIS10_R)
        with Locations(Location((1.818078454, -47, 0), (0, 0, 270))):
            Circle(CROQUIS10_R)
    extrude(amount=-CORTAR_EXTRUIR6_DEPTH, mode=Mode.SUBTRACT)

    # Croquis11 → Cortar-Extruir7 (cut)
    with BuildSketch(Plane.XZ.offset(-10)):
        with BuildLine():
            Line((-14, 13.5), (14, 13.5))
            ThreePointArc((14, 13.5), (14.707106781, 13.207106781), (15, 12.5))
            Line((15, 12.5), (15, -12.5))
            ThreePointArc((15, -12.5), (14.707106781, -13.207106781), (14, -13.5))
            Line((14, -13.5), (-14, -13.5))
            ThreePointArc((-14, -13.5), (-14.707106781, -13.207106781), (-15, -12.5))
            Line((-15, -12.5), (-15, 12.5))
            ThreePointArc((-15, 12.5), (-14.707106781, 13.207106781), (-14, 13.5))
        make_face()
    extrude(amount=-CORTAR_EXTRUIR7_DEPTH, mode=Mode.SUBTRACT)

    # Croquis12 → Cortar-Extruir8 (cut)
    with BuildSketch(Plane(origin=(0, 20, 0), x_dir=(1, 0, 0), z_dir=(0, 1, 0))):
        with Locations(Location((0, -47, 0), (0, 0, 90))):
            Circle(CROQUIS12_R)
        with Locations(Location((1.818078454, 47, 0), (0, 0, 90))):
            Circle(CROQUIS12_R_2)
    extrude(amount=-CORTAR_EXTRUIR8_DEPTH, mode=Mode.SUBTRACT)

    # Saliente-Extruir2: up to this face of the body (flat: up to its plane)
    saliente_extruir2_end = Plane(cortar_extruir5_piece_1.part.faces().sort_by_distance((53.444365079, 20, 0))[0])
    # Croquis13 → Saliente-Extruir2 (add, up to the picked face)
    with BuildSketch(Plane.XZ, mode=Mode.PRIVATE) as saliente_extruir2_sk1:
        with Locations((0, -47)):
            Circle(CROQUIS13_R)
    saliente_extruir2_tool1 = split(extrude(saliente_extruir2_sk1.sketch, amount=-SALIENTE_EXTRUIR2_REACH, mode=Mode.PRIVATE), bisect_by=saliente_extruir2_end, keep=Keep.BOTH, mode=Mode.PRIVATE)
    add(saliente_extruir2_tool1.solids().sort_by(Axis((0, 0, -47), (0, 1, 0)))[0])

    # Croquis14 → Cortar-Extruir9 (cut)
    with BuildSketch(Plane.XZ):
        with Locations(Location((0, -47, 0), (0, 0, 270))):
            Circle(CROQUIS14_R)
    extrude(amount=-CORTAR_EXTRUIR9_DEPTH, mode=Mode.SUBTRACT)

    # Croquis15 → Cortar-Extruir10 (cut)
    with BuildSketch(Plane(origin=(0, 20, 0), x_dir=(1, 0, 0), z_dir=(0, 1, 0))):
        with Locations(Location((0, 47, 0), (0, 0, 270))):
            Circle(CROQUIS15_R)
    extrude(amount=-CORTAR_EXTRUIR10_DEPTH, mode=Mode.SUBTRACT)

    # Croquis23 → Saliente-Extruir4 (add)
    with BuildSketch(Plane(origin=(0, 20, 0), x_dir=(1, 0, 0), z_dir=(0, 1, 0))):
        with Locations((0, 47)):
            Circle(CROQUIS23_R)
    extrude(amount=-SALIENTE_EXTRUIR4_DEPTH)

    # Croquis24 → Cortar-Extruir12 (cut)
    with BuildSketch(Plane(origin=(0, 20, 0), x_dir=(1, 0, 0), z_dir=(0, 1, 0))):
        with Locations(Location((0, 47, 0), (0, 0, 270))):
            Circle(CROQUIS24_R)
    extrude(amount=-CORTAR_EXTRUIR12_DEPTH, mode=Mode.SUBTRACT)

    # Croquis25 → Cortar-Extruir13 (cut)
    with BuildSketch(Plane(origin=(0, 20, 0), x_dir=(1, 0, 0), z_dir=(0, 1, 0))):
        with Locations(Location((0, 47, 0), (0, 0, 270))):
            Circle(CROQUIS25_R)
    extrude(amount=-CORTAR_EXTRUIR13_DEPTH, mode=Mode.SUBTRACT)

    # Croquis26 → Cortar-Extruir14 (cut)
    with BuildSketch(Plane.XZ):
        with Locations(Location((0, -47, 0), (0, 0, 90))):
            Circle(CROQUIS26_R)
    extrude(amount=-CORTAR_EXTRUIR14_DEPTH, mode=Mode.SUBTRACT)

    # Croquis27 → Cortar-Extruir15 (cut)
    with BuildSketch(Plane.XZ.offset(-10)):
        with BuildLine():
            Line((20.5, -13.343145751), (20.5, 17))
            ThreePointArc((20.5, 17), (20.207106781, 17.707106781), (19.5, 18))
            Line((19.5, 18), (-19.5, 18))
            ThreePointArc((-19.5, 18), (-20.207106781, 17.707106781), (-20.5, 17))
            Line((-20.5, 17), (-20.5, -17))
            ThreePointArc((-20.5, -17), (-20.207106781, -17.707106781), (-19.5, -18))
            Line((-19.5, -18), (15.843145751, -18))
            ThreePointArc((15.843145751, -18), (16.225829183, -17.923879533), (16.550252532, -17.707106781))
            Line((16.550252532, -17.707106781), (20.207106781, -14.050252532))
            ThreePointArc((20.207106781, -14.050252532), (20.423879533, -13.725829183), (20.5, -13.343145751))
        make_face()
    extrude(amount=-CORTAR_EXTRUIR15_DEPTH, mode=Mode.SUBTRACT)

    # Croquis28 → Cortar-Extruir16 (cut)
    with BuildSketch(Plane(origin=(0, 20, 0), x_dir=(1, 0, 0), z_dir=(0, 1, 0))):
        with Locations(Location((-28.5, 1.648e-06, 0), (0, 0, 270))):
            Circle(CROQUIS28_R)
        with Locations(Location((28.5, 0, 0), (0, 0, 270))):
            Circle(CROQUIS28_R)
    extrude(amount=-CORTAR_EXTRUIR16_DEPTH, mode=Mode.SUBTRACT)

    # Croquis29 → Saliente-Extruir5 (add)
    with BuildSketch(Plane(origin=(0, 20, 0), x_dir=(1, 0, 0), z_dir=(0, 1, 0))):
        with Locations((2.645392531, -38.83181467)):
            Rectangle(CROQUIS29_W, CROQUIS29_H)
    extrude(amount=-SALIENTE_EXTRUIR5_DEPTH)


with BuildPart() as cortar_extruir5_piece_2:
    # of the separate pieces the step leaves, piece 2, a body of its own (cortar_extruir5_pieces)
    add(part.part.solids().sort_by_distance((6.779554564, 0, 39.22477294))[0])


with BuildPart() as cortar_extruir5_piece_3:
    # of the separate pieces the step leaves, piece 3, a body of its own (cortar_extruir5_pieces)
    add(part.part.solids().sort_by_distance((-0.938394154, 0, 39.22477294))[0])


solid = cortar_extruir5_piece_1.part
